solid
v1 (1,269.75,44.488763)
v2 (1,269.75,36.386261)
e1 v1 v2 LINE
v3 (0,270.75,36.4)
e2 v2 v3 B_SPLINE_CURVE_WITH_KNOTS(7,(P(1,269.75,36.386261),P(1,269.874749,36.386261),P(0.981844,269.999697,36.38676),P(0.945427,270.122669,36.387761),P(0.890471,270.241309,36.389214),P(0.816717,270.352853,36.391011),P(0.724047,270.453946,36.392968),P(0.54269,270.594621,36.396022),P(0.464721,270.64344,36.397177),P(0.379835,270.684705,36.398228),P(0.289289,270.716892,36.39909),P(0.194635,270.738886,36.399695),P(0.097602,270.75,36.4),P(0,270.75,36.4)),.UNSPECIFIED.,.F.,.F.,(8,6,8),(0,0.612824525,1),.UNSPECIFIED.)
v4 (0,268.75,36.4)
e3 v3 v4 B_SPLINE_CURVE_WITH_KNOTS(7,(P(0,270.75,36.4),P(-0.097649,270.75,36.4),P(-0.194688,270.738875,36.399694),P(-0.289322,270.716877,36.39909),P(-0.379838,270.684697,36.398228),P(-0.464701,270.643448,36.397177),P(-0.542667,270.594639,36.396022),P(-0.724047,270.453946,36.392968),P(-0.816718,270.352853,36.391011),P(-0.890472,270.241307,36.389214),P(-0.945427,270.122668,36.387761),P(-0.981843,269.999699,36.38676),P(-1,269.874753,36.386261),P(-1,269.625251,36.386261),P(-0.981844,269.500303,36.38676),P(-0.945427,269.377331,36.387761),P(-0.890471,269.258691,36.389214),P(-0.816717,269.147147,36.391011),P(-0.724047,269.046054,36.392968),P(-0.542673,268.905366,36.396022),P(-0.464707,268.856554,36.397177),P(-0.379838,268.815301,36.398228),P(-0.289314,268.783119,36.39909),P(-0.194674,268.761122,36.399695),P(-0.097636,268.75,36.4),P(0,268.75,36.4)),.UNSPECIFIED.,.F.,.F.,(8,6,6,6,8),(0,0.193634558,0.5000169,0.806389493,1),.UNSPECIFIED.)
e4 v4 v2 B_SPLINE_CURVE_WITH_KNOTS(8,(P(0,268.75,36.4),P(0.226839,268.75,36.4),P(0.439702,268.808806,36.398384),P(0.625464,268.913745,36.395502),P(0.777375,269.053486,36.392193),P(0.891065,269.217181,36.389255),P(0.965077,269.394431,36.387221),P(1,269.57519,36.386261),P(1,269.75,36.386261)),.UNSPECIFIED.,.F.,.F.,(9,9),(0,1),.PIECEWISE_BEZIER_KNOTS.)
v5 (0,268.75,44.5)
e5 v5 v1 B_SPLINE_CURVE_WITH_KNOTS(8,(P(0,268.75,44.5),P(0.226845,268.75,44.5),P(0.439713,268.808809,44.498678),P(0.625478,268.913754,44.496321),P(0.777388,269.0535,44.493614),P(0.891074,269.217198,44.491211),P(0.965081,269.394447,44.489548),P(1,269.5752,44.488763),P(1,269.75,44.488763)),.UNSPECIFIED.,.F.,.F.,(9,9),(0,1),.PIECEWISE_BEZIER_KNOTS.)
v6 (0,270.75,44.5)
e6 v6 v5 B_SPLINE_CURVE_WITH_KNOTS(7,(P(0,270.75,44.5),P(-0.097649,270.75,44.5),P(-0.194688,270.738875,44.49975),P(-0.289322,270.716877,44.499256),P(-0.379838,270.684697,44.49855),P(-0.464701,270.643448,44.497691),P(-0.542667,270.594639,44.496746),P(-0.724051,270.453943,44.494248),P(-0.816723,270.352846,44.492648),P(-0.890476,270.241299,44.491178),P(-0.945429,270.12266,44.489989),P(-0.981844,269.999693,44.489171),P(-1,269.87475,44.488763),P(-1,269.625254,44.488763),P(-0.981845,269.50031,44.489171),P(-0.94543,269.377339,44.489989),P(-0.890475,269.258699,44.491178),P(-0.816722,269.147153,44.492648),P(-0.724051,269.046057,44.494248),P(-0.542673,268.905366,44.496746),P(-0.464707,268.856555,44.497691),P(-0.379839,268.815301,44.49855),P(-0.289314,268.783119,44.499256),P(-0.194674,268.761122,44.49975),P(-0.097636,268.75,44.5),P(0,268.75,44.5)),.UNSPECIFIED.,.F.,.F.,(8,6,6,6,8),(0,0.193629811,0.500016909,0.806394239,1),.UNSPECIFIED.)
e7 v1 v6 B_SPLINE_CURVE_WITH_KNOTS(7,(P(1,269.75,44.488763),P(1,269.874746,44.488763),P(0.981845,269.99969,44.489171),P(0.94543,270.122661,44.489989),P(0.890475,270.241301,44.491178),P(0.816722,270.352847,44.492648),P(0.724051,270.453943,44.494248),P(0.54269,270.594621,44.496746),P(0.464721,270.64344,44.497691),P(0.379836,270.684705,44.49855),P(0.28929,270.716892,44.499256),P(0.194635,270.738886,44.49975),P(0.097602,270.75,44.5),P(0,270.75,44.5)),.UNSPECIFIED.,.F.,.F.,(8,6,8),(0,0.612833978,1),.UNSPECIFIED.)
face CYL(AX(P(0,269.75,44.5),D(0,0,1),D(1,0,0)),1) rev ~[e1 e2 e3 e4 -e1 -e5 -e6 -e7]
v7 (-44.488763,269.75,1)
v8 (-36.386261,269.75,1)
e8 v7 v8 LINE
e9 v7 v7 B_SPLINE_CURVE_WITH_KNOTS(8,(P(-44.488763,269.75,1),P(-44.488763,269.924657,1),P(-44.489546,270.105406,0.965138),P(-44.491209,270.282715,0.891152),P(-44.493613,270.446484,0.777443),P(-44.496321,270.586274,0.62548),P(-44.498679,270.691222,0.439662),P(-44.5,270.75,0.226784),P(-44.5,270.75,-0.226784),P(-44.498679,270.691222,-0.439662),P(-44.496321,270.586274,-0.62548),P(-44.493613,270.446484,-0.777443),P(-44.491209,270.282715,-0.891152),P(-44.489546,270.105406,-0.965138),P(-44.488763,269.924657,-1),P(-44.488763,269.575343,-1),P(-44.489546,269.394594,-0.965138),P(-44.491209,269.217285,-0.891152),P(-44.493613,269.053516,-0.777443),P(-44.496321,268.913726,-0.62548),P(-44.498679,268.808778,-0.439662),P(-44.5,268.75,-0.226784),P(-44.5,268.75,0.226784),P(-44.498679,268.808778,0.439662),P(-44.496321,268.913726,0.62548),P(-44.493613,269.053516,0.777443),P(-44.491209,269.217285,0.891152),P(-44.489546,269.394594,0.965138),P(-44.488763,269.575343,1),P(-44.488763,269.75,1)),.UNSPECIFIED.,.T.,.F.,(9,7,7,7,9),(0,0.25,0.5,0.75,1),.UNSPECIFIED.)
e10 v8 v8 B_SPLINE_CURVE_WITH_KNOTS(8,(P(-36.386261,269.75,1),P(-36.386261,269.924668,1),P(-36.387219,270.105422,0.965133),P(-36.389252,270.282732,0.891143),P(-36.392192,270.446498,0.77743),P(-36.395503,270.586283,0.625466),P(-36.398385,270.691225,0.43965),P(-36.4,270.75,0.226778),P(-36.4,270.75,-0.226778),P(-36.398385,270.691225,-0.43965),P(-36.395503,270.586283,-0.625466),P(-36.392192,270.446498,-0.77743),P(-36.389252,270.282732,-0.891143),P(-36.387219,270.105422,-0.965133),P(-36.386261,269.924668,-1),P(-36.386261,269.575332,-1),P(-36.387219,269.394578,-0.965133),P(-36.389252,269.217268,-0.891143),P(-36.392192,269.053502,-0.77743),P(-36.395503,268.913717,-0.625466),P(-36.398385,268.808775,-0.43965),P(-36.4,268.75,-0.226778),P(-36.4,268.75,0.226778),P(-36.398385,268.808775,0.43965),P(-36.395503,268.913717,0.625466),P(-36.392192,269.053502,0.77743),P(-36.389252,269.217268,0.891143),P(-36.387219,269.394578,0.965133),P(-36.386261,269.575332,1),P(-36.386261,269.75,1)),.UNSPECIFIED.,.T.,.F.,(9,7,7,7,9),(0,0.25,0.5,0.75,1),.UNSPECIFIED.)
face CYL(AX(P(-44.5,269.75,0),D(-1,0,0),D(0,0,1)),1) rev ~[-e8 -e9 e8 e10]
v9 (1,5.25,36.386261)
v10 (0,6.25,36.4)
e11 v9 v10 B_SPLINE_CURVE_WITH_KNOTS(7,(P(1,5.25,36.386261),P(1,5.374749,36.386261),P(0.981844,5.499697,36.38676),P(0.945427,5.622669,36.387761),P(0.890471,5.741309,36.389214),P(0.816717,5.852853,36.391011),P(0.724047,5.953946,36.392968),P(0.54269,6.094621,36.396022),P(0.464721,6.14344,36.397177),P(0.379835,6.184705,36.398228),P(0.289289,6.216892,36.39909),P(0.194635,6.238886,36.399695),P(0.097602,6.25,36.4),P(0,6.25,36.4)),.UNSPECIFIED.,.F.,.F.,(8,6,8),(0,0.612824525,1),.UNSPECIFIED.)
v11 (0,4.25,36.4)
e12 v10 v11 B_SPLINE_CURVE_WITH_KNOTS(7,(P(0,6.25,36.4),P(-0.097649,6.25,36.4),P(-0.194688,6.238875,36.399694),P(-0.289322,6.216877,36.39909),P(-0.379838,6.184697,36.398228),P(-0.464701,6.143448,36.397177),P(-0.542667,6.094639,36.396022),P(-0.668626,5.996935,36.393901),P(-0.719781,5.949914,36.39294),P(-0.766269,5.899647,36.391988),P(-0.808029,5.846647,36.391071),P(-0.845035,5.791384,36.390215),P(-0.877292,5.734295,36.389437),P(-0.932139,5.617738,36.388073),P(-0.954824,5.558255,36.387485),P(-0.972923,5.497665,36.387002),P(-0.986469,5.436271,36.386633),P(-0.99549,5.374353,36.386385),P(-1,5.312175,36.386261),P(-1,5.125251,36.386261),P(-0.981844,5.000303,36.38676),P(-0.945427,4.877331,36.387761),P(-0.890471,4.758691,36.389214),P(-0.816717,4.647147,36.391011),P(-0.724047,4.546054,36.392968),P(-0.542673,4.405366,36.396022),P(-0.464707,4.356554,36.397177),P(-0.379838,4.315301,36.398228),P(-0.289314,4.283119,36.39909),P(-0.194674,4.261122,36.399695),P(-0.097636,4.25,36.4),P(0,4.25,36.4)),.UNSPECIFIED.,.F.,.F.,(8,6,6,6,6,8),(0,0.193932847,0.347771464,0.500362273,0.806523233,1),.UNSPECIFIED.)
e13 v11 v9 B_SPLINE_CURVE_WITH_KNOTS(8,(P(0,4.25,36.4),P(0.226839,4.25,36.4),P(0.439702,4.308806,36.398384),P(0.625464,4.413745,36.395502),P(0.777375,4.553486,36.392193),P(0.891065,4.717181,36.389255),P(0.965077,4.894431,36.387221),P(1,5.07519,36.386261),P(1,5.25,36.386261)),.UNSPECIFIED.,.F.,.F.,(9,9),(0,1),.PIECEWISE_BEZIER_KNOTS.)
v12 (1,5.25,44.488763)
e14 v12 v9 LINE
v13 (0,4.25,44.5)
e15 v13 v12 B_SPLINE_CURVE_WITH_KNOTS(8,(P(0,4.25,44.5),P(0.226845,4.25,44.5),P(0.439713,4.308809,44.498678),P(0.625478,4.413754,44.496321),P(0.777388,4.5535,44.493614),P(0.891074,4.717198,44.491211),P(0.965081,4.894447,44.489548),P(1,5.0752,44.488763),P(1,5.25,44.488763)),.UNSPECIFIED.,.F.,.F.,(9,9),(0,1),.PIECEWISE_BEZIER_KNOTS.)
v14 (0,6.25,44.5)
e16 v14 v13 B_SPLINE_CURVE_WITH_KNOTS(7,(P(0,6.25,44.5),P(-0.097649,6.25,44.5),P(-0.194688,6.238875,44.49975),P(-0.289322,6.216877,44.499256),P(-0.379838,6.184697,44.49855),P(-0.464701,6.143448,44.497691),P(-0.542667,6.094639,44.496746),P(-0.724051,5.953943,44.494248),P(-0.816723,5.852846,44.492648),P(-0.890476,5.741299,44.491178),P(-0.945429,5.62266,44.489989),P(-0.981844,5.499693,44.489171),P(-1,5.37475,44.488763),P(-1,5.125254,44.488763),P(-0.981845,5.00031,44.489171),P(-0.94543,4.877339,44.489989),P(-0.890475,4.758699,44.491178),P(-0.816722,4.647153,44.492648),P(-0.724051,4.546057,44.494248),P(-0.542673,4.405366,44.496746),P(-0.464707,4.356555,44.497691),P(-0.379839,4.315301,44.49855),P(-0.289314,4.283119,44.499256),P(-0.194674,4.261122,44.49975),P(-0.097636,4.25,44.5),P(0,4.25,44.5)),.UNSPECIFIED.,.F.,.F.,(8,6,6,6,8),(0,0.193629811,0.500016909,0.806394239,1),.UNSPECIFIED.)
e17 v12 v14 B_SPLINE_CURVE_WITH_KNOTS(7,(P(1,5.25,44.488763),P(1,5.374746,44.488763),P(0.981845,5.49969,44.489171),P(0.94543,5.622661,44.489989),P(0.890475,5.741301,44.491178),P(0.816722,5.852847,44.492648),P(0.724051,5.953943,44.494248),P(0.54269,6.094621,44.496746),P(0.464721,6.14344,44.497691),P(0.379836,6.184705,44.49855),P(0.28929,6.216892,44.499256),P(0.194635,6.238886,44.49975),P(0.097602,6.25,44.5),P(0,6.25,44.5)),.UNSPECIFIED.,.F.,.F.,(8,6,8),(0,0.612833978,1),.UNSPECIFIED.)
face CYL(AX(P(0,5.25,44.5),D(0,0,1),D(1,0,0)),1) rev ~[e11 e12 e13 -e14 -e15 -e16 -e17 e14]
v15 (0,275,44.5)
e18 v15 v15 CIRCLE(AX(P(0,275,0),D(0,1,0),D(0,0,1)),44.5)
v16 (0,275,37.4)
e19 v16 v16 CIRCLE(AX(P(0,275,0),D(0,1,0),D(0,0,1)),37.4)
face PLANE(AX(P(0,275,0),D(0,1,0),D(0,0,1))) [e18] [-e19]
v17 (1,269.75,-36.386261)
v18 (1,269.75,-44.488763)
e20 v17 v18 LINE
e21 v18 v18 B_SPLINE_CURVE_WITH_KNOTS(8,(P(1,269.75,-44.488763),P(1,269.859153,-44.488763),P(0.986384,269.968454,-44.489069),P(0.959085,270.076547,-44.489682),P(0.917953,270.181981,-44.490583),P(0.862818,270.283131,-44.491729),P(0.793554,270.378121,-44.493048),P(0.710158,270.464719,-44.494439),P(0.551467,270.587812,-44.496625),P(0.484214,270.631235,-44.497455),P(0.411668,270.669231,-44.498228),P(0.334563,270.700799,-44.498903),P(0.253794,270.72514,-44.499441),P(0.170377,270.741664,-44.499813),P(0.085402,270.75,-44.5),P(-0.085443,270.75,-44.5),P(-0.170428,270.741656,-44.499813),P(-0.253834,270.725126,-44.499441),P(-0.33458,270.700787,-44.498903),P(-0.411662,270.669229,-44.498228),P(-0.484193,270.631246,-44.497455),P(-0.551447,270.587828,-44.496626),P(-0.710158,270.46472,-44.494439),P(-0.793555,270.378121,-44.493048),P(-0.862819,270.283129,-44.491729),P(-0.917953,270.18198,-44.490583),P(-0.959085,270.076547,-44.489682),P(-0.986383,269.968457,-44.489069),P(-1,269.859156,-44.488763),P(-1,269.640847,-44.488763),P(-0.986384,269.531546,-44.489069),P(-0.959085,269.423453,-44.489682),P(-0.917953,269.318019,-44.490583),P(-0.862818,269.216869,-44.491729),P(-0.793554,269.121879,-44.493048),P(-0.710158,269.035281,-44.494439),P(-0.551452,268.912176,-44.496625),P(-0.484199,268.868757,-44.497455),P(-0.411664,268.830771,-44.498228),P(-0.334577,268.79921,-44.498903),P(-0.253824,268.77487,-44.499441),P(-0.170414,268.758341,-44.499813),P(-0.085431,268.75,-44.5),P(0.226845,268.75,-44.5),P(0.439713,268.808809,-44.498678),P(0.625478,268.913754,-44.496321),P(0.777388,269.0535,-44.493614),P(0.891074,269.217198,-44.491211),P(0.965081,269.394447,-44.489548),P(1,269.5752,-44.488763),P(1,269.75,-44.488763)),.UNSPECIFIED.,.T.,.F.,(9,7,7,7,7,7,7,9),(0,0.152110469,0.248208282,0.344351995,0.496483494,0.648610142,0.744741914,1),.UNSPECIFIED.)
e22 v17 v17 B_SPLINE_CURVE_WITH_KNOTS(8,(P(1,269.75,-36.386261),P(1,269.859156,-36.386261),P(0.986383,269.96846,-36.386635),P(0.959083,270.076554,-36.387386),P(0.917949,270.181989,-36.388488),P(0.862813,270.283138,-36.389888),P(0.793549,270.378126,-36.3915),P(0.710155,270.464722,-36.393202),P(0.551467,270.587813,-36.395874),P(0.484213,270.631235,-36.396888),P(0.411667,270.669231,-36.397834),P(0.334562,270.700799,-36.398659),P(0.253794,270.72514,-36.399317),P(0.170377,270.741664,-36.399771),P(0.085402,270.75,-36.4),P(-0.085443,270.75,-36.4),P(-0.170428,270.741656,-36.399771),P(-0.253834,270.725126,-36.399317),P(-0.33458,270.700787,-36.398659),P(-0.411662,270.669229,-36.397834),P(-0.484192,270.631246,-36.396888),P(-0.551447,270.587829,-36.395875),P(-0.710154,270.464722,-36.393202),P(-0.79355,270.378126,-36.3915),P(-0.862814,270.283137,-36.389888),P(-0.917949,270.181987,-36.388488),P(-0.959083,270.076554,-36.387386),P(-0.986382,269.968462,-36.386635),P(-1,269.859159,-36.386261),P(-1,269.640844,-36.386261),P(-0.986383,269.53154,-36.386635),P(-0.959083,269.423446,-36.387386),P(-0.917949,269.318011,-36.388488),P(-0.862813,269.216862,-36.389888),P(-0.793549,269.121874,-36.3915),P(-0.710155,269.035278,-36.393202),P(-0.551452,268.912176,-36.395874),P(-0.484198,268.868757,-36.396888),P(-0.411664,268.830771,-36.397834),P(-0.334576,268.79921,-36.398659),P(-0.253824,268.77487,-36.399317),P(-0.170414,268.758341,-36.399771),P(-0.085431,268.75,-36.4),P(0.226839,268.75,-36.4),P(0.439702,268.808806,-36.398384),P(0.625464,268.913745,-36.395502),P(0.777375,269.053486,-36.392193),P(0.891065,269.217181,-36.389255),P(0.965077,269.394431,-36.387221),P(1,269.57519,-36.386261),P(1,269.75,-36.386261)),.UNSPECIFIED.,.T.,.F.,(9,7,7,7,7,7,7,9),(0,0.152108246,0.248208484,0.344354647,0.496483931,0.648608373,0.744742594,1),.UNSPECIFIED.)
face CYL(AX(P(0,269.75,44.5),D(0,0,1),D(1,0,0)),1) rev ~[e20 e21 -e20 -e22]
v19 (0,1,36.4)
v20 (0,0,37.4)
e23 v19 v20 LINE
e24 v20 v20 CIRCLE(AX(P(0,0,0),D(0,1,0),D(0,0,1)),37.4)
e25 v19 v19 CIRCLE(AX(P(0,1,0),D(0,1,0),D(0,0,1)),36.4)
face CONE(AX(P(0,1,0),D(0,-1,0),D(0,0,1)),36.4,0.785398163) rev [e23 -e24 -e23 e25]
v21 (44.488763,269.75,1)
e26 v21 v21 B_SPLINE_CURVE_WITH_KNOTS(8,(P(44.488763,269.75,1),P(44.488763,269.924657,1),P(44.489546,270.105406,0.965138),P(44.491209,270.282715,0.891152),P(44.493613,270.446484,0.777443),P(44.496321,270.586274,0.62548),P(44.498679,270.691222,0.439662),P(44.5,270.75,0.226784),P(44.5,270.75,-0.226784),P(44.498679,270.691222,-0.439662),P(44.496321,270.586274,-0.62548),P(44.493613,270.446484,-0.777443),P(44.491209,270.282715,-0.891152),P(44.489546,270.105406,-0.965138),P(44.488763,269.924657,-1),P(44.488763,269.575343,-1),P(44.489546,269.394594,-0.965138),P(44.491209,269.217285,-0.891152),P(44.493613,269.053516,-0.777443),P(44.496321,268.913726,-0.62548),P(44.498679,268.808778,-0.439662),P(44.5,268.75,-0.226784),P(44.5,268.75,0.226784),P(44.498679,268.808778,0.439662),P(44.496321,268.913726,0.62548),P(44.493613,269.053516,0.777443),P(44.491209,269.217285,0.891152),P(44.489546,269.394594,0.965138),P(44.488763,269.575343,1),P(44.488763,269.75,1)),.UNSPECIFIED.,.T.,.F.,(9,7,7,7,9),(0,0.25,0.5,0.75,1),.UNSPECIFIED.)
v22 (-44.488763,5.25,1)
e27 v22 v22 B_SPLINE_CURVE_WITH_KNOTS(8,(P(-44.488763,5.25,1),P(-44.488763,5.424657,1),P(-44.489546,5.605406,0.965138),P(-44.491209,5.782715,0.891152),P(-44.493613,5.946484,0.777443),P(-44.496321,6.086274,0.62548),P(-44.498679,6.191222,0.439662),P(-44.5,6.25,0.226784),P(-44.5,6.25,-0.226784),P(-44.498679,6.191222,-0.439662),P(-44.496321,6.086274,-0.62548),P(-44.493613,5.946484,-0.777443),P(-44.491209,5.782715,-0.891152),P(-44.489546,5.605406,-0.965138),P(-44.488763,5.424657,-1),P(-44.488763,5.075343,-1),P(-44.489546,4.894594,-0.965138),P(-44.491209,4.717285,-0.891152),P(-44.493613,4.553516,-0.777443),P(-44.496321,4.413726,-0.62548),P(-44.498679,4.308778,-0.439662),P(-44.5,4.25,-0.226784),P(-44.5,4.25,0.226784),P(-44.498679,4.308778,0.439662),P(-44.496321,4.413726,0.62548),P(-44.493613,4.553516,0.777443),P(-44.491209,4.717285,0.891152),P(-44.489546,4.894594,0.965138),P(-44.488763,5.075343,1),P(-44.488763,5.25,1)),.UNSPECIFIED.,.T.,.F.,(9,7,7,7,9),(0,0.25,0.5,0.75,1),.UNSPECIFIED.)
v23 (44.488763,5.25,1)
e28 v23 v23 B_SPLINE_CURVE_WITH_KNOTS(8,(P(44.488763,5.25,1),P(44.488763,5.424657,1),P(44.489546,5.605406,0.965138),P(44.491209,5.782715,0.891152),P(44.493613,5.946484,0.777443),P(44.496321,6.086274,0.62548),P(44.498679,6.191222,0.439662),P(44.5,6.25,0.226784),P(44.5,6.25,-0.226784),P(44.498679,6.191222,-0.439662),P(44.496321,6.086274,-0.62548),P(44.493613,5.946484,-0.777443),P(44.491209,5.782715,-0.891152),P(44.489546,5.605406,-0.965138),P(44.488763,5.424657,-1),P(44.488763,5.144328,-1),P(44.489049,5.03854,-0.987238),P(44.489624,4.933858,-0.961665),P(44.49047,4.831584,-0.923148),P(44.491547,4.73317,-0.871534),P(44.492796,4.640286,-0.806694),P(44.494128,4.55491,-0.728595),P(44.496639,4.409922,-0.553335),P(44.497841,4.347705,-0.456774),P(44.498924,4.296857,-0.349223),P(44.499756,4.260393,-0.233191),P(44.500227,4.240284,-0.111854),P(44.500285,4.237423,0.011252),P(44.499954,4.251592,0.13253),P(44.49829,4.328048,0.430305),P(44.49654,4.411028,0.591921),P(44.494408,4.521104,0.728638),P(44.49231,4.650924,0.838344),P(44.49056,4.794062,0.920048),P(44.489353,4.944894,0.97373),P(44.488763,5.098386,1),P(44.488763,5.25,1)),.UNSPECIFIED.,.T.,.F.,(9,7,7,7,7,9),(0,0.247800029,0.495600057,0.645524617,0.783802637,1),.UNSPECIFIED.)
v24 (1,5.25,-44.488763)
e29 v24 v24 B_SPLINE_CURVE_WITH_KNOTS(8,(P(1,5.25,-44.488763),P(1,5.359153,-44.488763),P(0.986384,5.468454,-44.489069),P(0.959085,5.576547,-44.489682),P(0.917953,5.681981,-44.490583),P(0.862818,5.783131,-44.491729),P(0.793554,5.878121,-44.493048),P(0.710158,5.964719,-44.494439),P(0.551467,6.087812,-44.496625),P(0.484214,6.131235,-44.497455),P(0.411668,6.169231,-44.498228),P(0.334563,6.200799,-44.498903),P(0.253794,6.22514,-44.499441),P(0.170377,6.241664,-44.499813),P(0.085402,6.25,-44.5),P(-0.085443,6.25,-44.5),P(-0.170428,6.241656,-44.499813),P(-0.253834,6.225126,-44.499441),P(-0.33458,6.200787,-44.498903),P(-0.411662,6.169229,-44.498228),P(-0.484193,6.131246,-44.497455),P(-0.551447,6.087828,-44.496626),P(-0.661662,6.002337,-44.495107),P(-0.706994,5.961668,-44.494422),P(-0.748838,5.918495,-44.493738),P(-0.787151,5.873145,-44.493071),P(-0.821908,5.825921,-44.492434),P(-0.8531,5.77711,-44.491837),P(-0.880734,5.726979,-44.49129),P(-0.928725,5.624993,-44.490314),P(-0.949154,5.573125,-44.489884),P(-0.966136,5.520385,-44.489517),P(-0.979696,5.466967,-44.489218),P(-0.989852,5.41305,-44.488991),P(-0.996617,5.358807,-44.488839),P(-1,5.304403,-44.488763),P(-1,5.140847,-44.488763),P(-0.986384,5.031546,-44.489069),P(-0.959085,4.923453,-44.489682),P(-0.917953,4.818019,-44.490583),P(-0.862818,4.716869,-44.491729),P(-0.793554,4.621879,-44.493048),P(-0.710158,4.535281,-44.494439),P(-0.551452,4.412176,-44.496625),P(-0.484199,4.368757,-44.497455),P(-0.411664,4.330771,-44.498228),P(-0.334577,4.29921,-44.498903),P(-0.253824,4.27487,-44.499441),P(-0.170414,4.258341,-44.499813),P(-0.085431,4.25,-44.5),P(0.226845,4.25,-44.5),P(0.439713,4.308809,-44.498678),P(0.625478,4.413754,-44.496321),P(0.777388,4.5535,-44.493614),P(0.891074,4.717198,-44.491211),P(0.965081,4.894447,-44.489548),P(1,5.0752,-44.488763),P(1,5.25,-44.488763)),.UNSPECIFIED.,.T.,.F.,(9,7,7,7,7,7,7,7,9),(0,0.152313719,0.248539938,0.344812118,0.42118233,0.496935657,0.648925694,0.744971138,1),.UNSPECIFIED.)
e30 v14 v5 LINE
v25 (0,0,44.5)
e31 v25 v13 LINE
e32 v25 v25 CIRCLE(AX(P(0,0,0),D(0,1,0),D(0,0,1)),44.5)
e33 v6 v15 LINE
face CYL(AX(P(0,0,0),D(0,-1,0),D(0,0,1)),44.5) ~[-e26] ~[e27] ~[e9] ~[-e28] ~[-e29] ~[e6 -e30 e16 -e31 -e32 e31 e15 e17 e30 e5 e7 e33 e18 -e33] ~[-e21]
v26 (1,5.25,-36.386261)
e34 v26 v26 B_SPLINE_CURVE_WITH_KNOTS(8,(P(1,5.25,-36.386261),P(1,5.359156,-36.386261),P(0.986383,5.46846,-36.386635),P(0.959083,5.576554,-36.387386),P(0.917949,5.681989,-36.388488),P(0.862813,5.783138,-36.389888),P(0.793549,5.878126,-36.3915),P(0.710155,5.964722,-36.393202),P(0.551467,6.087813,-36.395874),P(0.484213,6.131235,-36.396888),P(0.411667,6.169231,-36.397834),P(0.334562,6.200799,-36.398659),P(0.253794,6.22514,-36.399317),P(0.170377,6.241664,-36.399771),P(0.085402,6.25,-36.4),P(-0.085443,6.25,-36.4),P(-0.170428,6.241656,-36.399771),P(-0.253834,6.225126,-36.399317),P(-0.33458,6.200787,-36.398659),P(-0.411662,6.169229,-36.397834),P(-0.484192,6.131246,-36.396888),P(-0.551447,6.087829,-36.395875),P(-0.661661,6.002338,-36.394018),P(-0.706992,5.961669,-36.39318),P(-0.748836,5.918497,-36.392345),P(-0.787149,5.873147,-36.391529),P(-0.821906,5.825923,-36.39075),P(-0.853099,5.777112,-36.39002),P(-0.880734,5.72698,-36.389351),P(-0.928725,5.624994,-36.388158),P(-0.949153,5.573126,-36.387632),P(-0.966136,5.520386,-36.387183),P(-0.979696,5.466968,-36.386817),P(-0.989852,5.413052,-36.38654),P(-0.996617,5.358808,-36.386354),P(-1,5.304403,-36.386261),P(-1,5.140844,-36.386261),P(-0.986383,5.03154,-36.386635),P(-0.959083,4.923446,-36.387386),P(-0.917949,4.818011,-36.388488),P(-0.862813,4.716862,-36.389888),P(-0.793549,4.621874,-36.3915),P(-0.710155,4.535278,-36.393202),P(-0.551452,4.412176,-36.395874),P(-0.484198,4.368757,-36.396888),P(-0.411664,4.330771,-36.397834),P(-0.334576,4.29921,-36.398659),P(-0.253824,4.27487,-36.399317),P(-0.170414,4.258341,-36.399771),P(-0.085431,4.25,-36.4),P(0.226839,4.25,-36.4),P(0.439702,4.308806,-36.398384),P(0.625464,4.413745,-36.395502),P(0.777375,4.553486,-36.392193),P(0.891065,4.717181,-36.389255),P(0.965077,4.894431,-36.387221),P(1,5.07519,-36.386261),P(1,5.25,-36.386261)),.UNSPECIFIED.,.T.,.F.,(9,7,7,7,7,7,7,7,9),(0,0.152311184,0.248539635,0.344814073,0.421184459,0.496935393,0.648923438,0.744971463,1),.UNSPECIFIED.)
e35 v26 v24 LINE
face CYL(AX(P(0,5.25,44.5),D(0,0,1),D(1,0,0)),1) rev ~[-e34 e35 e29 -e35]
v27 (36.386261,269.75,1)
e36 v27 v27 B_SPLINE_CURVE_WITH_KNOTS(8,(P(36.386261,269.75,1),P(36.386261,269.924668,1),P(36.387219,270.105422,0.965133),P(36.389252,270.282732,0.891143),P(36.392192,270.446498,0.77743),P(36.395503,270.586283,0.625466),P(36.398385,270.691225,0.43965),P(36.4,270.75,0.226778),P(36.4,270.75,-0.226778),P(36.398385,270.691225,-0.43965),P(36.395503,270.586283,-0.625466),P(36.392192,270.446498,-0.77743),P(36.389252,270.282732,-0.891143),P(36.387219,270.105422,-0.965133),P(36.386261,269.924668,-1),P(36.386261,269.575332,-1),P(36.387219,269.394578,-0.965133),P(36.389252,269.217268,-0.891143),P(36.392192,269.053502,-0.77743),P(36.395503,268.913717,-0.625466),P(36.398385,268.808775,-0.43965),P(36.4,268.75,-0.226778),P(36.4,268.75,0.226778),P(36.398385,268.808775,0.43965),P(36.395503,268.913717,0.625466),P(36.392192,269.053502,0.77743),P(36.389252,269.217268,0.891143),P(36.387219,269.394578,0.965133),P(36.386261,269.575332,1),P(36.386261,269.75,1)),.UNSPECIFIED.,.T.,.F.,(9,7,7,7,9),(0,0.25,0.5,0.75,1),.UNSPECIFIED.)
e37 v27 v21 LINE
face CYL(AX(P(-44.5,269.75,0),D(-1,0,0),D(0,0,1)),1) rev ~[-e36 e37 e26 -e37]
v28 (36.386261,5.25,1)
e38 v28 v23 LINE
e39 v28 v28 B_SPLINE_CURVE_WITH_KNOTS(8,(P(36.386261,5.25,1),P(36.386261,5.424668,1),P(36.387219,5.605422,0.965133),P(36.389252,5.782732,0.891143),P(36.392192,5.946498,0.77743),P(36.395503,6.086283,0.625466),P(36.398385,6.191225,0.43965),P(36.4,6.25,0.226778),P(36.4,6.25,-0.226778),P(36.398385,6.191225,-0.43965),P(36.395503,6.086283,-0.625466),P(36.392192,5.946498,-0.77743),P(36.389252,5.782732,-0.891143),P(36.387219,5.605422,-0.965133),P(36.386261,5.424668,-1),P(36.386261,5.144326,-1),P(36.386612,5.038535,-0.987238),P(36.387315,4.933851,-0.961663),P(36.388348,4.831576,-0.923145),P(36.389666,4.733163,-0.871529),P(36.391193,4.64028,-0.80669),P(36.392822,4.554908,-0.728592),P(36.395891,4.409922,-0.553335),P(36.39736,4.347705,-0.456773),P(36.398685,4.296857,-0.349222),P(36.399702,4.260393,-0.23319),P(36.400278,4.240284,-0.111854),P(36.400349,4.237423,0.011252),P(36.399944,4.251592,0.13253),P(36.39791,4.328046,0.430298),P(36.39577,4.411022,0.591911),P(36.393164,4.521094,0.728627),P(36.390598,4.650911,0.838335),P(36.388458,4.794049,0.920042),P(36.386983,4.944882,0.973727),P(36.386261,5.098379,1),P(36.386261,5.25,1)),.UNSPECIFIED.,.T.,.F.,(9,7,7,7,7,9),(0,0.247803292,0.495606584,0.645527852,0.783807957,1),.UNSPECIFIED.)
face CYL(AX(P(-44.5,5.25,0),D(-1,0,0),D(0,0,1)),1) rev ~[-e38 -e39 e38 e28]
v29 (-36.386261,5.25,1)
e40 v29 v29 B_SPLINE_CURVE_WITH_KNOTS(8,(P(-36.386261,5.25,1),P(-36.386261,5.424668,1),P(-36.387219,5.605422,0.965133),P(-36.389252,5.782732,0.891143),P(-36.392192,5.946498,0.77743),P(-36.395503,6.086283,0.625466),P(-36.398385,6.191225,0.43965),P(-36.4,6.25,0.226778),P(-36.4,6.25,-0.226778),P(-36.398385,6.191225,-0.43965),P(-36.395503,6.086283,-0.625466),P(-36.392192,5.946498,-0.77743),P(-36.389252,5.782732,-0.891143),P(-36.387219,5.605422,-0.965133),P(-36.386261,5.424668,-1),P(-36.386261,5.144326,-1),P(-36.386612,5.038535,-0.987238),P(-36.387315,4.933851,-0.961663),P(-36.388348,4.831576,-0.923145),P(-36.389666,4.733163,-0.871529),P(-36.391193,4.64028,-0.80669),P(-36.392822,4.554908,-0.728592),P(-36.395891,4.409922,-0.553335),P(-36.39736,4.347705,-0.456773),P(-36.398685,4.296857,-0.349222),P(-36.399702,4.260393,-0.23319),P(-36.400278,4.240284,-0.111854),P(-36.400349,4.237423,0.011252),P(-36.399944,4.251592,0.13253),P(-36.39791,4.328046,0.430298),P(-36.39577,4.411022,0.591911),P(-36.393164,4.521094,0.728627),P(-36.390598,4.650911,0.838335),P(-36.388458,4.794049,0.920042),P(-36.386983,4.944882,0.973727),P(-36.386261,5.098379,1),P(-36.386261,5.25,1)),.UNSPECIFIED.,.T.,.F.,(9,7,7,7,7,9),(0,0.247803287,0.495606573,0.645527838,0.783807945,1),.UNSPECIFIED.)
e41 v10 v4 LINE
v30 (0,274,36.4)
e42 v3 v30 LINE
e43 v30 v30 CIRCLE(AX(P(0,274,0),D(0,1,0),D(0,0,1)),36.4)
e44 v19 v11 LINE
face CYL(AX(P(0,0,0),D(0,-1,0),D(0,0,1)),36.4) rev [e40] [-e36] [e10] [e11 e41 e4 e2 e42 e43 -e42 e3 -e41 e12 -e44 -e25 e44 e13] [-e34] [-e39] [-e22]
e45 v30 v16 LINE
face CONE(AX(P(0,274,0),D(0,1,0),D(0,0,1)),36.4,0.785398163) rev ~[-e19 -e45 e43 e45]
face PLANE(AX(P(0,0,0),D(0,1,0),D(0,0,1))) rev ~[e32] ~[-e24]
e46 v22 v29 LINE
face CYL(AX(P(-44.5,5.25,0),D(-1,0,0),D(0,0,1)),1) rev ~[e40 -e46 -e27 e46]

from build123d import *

# Parameters (mm, degrees)
ESBO_O1_R                = 44.5
ESBO_O1_R_2              = 36.4
RESSALTO_EXTRUS_O1_DEPTH = 275
CHANFRO1_SIZE            = 1
ESBO_O5_R                = 1
CORTE_EXTRUS_O3_DEPTH    = 293.448713452
ESBO_O13_R               = 1
CORTE_EXTRUS_O4_DEPTH    = 293.448713592


with BuildPart() as part:
    # Esboço1 → Ressalto-extrusão1 (new body)
    with BuildSketch(Plane(origin=(0, 0, 0), x_dir=(1, 0, 0), z_dir=(0, 1, 0))):
        with Locations(Location((0, 0, 0), (0, 0, 270))):
            Circle(ESBO_O1_R)
        with Locations(Location((0, 0, 0), (0, 0, 270))):
            Circle(ESBO_O1_R_2, mode=Mode.SUBTRACT)
    extrude(amount=RESSALTO_EXTRUS_O1_DEPTH)

    # Chanfro1
    chanfro1_edges = [part.edges().sort_by_distance(p)[0] for p in [
        (0, 0, -36.4),
        (0, 275, -36.4),
    ]]
    chamfer(chanfro1_edges, length=CHANFRO1_SIZE)

    # Esboço5 → Corte-extrusão3 (cut, through all)
    with BuildSketch(Plane.XY.offset(44.5)):
        with Locations((0, 269.75)):
            Circle(ESBO_O5_R)
        with Locations((0, 5.25)):
            Circle(ESBO_O5_R)
    extrude(amount=-CORTE_EXTRUS_O3_DEPTH, mode=Mode.SUBTRACT)

    # Esboço13 → Corte-extrusão4 (cut, through all)
    with BuildSketch(Plane.ZY.offset(44.5)):
        with Locations((0, 5.25)):
            Circle(ESBO_O13_R)
        with Locations((0, 269.75)):
            Circle(ESBO_O13_R)
    extrude(amount=-CORTE_EXTRUS_O4_DEPTH, mode=Mode.SUBTRACT)


solid = part.part
